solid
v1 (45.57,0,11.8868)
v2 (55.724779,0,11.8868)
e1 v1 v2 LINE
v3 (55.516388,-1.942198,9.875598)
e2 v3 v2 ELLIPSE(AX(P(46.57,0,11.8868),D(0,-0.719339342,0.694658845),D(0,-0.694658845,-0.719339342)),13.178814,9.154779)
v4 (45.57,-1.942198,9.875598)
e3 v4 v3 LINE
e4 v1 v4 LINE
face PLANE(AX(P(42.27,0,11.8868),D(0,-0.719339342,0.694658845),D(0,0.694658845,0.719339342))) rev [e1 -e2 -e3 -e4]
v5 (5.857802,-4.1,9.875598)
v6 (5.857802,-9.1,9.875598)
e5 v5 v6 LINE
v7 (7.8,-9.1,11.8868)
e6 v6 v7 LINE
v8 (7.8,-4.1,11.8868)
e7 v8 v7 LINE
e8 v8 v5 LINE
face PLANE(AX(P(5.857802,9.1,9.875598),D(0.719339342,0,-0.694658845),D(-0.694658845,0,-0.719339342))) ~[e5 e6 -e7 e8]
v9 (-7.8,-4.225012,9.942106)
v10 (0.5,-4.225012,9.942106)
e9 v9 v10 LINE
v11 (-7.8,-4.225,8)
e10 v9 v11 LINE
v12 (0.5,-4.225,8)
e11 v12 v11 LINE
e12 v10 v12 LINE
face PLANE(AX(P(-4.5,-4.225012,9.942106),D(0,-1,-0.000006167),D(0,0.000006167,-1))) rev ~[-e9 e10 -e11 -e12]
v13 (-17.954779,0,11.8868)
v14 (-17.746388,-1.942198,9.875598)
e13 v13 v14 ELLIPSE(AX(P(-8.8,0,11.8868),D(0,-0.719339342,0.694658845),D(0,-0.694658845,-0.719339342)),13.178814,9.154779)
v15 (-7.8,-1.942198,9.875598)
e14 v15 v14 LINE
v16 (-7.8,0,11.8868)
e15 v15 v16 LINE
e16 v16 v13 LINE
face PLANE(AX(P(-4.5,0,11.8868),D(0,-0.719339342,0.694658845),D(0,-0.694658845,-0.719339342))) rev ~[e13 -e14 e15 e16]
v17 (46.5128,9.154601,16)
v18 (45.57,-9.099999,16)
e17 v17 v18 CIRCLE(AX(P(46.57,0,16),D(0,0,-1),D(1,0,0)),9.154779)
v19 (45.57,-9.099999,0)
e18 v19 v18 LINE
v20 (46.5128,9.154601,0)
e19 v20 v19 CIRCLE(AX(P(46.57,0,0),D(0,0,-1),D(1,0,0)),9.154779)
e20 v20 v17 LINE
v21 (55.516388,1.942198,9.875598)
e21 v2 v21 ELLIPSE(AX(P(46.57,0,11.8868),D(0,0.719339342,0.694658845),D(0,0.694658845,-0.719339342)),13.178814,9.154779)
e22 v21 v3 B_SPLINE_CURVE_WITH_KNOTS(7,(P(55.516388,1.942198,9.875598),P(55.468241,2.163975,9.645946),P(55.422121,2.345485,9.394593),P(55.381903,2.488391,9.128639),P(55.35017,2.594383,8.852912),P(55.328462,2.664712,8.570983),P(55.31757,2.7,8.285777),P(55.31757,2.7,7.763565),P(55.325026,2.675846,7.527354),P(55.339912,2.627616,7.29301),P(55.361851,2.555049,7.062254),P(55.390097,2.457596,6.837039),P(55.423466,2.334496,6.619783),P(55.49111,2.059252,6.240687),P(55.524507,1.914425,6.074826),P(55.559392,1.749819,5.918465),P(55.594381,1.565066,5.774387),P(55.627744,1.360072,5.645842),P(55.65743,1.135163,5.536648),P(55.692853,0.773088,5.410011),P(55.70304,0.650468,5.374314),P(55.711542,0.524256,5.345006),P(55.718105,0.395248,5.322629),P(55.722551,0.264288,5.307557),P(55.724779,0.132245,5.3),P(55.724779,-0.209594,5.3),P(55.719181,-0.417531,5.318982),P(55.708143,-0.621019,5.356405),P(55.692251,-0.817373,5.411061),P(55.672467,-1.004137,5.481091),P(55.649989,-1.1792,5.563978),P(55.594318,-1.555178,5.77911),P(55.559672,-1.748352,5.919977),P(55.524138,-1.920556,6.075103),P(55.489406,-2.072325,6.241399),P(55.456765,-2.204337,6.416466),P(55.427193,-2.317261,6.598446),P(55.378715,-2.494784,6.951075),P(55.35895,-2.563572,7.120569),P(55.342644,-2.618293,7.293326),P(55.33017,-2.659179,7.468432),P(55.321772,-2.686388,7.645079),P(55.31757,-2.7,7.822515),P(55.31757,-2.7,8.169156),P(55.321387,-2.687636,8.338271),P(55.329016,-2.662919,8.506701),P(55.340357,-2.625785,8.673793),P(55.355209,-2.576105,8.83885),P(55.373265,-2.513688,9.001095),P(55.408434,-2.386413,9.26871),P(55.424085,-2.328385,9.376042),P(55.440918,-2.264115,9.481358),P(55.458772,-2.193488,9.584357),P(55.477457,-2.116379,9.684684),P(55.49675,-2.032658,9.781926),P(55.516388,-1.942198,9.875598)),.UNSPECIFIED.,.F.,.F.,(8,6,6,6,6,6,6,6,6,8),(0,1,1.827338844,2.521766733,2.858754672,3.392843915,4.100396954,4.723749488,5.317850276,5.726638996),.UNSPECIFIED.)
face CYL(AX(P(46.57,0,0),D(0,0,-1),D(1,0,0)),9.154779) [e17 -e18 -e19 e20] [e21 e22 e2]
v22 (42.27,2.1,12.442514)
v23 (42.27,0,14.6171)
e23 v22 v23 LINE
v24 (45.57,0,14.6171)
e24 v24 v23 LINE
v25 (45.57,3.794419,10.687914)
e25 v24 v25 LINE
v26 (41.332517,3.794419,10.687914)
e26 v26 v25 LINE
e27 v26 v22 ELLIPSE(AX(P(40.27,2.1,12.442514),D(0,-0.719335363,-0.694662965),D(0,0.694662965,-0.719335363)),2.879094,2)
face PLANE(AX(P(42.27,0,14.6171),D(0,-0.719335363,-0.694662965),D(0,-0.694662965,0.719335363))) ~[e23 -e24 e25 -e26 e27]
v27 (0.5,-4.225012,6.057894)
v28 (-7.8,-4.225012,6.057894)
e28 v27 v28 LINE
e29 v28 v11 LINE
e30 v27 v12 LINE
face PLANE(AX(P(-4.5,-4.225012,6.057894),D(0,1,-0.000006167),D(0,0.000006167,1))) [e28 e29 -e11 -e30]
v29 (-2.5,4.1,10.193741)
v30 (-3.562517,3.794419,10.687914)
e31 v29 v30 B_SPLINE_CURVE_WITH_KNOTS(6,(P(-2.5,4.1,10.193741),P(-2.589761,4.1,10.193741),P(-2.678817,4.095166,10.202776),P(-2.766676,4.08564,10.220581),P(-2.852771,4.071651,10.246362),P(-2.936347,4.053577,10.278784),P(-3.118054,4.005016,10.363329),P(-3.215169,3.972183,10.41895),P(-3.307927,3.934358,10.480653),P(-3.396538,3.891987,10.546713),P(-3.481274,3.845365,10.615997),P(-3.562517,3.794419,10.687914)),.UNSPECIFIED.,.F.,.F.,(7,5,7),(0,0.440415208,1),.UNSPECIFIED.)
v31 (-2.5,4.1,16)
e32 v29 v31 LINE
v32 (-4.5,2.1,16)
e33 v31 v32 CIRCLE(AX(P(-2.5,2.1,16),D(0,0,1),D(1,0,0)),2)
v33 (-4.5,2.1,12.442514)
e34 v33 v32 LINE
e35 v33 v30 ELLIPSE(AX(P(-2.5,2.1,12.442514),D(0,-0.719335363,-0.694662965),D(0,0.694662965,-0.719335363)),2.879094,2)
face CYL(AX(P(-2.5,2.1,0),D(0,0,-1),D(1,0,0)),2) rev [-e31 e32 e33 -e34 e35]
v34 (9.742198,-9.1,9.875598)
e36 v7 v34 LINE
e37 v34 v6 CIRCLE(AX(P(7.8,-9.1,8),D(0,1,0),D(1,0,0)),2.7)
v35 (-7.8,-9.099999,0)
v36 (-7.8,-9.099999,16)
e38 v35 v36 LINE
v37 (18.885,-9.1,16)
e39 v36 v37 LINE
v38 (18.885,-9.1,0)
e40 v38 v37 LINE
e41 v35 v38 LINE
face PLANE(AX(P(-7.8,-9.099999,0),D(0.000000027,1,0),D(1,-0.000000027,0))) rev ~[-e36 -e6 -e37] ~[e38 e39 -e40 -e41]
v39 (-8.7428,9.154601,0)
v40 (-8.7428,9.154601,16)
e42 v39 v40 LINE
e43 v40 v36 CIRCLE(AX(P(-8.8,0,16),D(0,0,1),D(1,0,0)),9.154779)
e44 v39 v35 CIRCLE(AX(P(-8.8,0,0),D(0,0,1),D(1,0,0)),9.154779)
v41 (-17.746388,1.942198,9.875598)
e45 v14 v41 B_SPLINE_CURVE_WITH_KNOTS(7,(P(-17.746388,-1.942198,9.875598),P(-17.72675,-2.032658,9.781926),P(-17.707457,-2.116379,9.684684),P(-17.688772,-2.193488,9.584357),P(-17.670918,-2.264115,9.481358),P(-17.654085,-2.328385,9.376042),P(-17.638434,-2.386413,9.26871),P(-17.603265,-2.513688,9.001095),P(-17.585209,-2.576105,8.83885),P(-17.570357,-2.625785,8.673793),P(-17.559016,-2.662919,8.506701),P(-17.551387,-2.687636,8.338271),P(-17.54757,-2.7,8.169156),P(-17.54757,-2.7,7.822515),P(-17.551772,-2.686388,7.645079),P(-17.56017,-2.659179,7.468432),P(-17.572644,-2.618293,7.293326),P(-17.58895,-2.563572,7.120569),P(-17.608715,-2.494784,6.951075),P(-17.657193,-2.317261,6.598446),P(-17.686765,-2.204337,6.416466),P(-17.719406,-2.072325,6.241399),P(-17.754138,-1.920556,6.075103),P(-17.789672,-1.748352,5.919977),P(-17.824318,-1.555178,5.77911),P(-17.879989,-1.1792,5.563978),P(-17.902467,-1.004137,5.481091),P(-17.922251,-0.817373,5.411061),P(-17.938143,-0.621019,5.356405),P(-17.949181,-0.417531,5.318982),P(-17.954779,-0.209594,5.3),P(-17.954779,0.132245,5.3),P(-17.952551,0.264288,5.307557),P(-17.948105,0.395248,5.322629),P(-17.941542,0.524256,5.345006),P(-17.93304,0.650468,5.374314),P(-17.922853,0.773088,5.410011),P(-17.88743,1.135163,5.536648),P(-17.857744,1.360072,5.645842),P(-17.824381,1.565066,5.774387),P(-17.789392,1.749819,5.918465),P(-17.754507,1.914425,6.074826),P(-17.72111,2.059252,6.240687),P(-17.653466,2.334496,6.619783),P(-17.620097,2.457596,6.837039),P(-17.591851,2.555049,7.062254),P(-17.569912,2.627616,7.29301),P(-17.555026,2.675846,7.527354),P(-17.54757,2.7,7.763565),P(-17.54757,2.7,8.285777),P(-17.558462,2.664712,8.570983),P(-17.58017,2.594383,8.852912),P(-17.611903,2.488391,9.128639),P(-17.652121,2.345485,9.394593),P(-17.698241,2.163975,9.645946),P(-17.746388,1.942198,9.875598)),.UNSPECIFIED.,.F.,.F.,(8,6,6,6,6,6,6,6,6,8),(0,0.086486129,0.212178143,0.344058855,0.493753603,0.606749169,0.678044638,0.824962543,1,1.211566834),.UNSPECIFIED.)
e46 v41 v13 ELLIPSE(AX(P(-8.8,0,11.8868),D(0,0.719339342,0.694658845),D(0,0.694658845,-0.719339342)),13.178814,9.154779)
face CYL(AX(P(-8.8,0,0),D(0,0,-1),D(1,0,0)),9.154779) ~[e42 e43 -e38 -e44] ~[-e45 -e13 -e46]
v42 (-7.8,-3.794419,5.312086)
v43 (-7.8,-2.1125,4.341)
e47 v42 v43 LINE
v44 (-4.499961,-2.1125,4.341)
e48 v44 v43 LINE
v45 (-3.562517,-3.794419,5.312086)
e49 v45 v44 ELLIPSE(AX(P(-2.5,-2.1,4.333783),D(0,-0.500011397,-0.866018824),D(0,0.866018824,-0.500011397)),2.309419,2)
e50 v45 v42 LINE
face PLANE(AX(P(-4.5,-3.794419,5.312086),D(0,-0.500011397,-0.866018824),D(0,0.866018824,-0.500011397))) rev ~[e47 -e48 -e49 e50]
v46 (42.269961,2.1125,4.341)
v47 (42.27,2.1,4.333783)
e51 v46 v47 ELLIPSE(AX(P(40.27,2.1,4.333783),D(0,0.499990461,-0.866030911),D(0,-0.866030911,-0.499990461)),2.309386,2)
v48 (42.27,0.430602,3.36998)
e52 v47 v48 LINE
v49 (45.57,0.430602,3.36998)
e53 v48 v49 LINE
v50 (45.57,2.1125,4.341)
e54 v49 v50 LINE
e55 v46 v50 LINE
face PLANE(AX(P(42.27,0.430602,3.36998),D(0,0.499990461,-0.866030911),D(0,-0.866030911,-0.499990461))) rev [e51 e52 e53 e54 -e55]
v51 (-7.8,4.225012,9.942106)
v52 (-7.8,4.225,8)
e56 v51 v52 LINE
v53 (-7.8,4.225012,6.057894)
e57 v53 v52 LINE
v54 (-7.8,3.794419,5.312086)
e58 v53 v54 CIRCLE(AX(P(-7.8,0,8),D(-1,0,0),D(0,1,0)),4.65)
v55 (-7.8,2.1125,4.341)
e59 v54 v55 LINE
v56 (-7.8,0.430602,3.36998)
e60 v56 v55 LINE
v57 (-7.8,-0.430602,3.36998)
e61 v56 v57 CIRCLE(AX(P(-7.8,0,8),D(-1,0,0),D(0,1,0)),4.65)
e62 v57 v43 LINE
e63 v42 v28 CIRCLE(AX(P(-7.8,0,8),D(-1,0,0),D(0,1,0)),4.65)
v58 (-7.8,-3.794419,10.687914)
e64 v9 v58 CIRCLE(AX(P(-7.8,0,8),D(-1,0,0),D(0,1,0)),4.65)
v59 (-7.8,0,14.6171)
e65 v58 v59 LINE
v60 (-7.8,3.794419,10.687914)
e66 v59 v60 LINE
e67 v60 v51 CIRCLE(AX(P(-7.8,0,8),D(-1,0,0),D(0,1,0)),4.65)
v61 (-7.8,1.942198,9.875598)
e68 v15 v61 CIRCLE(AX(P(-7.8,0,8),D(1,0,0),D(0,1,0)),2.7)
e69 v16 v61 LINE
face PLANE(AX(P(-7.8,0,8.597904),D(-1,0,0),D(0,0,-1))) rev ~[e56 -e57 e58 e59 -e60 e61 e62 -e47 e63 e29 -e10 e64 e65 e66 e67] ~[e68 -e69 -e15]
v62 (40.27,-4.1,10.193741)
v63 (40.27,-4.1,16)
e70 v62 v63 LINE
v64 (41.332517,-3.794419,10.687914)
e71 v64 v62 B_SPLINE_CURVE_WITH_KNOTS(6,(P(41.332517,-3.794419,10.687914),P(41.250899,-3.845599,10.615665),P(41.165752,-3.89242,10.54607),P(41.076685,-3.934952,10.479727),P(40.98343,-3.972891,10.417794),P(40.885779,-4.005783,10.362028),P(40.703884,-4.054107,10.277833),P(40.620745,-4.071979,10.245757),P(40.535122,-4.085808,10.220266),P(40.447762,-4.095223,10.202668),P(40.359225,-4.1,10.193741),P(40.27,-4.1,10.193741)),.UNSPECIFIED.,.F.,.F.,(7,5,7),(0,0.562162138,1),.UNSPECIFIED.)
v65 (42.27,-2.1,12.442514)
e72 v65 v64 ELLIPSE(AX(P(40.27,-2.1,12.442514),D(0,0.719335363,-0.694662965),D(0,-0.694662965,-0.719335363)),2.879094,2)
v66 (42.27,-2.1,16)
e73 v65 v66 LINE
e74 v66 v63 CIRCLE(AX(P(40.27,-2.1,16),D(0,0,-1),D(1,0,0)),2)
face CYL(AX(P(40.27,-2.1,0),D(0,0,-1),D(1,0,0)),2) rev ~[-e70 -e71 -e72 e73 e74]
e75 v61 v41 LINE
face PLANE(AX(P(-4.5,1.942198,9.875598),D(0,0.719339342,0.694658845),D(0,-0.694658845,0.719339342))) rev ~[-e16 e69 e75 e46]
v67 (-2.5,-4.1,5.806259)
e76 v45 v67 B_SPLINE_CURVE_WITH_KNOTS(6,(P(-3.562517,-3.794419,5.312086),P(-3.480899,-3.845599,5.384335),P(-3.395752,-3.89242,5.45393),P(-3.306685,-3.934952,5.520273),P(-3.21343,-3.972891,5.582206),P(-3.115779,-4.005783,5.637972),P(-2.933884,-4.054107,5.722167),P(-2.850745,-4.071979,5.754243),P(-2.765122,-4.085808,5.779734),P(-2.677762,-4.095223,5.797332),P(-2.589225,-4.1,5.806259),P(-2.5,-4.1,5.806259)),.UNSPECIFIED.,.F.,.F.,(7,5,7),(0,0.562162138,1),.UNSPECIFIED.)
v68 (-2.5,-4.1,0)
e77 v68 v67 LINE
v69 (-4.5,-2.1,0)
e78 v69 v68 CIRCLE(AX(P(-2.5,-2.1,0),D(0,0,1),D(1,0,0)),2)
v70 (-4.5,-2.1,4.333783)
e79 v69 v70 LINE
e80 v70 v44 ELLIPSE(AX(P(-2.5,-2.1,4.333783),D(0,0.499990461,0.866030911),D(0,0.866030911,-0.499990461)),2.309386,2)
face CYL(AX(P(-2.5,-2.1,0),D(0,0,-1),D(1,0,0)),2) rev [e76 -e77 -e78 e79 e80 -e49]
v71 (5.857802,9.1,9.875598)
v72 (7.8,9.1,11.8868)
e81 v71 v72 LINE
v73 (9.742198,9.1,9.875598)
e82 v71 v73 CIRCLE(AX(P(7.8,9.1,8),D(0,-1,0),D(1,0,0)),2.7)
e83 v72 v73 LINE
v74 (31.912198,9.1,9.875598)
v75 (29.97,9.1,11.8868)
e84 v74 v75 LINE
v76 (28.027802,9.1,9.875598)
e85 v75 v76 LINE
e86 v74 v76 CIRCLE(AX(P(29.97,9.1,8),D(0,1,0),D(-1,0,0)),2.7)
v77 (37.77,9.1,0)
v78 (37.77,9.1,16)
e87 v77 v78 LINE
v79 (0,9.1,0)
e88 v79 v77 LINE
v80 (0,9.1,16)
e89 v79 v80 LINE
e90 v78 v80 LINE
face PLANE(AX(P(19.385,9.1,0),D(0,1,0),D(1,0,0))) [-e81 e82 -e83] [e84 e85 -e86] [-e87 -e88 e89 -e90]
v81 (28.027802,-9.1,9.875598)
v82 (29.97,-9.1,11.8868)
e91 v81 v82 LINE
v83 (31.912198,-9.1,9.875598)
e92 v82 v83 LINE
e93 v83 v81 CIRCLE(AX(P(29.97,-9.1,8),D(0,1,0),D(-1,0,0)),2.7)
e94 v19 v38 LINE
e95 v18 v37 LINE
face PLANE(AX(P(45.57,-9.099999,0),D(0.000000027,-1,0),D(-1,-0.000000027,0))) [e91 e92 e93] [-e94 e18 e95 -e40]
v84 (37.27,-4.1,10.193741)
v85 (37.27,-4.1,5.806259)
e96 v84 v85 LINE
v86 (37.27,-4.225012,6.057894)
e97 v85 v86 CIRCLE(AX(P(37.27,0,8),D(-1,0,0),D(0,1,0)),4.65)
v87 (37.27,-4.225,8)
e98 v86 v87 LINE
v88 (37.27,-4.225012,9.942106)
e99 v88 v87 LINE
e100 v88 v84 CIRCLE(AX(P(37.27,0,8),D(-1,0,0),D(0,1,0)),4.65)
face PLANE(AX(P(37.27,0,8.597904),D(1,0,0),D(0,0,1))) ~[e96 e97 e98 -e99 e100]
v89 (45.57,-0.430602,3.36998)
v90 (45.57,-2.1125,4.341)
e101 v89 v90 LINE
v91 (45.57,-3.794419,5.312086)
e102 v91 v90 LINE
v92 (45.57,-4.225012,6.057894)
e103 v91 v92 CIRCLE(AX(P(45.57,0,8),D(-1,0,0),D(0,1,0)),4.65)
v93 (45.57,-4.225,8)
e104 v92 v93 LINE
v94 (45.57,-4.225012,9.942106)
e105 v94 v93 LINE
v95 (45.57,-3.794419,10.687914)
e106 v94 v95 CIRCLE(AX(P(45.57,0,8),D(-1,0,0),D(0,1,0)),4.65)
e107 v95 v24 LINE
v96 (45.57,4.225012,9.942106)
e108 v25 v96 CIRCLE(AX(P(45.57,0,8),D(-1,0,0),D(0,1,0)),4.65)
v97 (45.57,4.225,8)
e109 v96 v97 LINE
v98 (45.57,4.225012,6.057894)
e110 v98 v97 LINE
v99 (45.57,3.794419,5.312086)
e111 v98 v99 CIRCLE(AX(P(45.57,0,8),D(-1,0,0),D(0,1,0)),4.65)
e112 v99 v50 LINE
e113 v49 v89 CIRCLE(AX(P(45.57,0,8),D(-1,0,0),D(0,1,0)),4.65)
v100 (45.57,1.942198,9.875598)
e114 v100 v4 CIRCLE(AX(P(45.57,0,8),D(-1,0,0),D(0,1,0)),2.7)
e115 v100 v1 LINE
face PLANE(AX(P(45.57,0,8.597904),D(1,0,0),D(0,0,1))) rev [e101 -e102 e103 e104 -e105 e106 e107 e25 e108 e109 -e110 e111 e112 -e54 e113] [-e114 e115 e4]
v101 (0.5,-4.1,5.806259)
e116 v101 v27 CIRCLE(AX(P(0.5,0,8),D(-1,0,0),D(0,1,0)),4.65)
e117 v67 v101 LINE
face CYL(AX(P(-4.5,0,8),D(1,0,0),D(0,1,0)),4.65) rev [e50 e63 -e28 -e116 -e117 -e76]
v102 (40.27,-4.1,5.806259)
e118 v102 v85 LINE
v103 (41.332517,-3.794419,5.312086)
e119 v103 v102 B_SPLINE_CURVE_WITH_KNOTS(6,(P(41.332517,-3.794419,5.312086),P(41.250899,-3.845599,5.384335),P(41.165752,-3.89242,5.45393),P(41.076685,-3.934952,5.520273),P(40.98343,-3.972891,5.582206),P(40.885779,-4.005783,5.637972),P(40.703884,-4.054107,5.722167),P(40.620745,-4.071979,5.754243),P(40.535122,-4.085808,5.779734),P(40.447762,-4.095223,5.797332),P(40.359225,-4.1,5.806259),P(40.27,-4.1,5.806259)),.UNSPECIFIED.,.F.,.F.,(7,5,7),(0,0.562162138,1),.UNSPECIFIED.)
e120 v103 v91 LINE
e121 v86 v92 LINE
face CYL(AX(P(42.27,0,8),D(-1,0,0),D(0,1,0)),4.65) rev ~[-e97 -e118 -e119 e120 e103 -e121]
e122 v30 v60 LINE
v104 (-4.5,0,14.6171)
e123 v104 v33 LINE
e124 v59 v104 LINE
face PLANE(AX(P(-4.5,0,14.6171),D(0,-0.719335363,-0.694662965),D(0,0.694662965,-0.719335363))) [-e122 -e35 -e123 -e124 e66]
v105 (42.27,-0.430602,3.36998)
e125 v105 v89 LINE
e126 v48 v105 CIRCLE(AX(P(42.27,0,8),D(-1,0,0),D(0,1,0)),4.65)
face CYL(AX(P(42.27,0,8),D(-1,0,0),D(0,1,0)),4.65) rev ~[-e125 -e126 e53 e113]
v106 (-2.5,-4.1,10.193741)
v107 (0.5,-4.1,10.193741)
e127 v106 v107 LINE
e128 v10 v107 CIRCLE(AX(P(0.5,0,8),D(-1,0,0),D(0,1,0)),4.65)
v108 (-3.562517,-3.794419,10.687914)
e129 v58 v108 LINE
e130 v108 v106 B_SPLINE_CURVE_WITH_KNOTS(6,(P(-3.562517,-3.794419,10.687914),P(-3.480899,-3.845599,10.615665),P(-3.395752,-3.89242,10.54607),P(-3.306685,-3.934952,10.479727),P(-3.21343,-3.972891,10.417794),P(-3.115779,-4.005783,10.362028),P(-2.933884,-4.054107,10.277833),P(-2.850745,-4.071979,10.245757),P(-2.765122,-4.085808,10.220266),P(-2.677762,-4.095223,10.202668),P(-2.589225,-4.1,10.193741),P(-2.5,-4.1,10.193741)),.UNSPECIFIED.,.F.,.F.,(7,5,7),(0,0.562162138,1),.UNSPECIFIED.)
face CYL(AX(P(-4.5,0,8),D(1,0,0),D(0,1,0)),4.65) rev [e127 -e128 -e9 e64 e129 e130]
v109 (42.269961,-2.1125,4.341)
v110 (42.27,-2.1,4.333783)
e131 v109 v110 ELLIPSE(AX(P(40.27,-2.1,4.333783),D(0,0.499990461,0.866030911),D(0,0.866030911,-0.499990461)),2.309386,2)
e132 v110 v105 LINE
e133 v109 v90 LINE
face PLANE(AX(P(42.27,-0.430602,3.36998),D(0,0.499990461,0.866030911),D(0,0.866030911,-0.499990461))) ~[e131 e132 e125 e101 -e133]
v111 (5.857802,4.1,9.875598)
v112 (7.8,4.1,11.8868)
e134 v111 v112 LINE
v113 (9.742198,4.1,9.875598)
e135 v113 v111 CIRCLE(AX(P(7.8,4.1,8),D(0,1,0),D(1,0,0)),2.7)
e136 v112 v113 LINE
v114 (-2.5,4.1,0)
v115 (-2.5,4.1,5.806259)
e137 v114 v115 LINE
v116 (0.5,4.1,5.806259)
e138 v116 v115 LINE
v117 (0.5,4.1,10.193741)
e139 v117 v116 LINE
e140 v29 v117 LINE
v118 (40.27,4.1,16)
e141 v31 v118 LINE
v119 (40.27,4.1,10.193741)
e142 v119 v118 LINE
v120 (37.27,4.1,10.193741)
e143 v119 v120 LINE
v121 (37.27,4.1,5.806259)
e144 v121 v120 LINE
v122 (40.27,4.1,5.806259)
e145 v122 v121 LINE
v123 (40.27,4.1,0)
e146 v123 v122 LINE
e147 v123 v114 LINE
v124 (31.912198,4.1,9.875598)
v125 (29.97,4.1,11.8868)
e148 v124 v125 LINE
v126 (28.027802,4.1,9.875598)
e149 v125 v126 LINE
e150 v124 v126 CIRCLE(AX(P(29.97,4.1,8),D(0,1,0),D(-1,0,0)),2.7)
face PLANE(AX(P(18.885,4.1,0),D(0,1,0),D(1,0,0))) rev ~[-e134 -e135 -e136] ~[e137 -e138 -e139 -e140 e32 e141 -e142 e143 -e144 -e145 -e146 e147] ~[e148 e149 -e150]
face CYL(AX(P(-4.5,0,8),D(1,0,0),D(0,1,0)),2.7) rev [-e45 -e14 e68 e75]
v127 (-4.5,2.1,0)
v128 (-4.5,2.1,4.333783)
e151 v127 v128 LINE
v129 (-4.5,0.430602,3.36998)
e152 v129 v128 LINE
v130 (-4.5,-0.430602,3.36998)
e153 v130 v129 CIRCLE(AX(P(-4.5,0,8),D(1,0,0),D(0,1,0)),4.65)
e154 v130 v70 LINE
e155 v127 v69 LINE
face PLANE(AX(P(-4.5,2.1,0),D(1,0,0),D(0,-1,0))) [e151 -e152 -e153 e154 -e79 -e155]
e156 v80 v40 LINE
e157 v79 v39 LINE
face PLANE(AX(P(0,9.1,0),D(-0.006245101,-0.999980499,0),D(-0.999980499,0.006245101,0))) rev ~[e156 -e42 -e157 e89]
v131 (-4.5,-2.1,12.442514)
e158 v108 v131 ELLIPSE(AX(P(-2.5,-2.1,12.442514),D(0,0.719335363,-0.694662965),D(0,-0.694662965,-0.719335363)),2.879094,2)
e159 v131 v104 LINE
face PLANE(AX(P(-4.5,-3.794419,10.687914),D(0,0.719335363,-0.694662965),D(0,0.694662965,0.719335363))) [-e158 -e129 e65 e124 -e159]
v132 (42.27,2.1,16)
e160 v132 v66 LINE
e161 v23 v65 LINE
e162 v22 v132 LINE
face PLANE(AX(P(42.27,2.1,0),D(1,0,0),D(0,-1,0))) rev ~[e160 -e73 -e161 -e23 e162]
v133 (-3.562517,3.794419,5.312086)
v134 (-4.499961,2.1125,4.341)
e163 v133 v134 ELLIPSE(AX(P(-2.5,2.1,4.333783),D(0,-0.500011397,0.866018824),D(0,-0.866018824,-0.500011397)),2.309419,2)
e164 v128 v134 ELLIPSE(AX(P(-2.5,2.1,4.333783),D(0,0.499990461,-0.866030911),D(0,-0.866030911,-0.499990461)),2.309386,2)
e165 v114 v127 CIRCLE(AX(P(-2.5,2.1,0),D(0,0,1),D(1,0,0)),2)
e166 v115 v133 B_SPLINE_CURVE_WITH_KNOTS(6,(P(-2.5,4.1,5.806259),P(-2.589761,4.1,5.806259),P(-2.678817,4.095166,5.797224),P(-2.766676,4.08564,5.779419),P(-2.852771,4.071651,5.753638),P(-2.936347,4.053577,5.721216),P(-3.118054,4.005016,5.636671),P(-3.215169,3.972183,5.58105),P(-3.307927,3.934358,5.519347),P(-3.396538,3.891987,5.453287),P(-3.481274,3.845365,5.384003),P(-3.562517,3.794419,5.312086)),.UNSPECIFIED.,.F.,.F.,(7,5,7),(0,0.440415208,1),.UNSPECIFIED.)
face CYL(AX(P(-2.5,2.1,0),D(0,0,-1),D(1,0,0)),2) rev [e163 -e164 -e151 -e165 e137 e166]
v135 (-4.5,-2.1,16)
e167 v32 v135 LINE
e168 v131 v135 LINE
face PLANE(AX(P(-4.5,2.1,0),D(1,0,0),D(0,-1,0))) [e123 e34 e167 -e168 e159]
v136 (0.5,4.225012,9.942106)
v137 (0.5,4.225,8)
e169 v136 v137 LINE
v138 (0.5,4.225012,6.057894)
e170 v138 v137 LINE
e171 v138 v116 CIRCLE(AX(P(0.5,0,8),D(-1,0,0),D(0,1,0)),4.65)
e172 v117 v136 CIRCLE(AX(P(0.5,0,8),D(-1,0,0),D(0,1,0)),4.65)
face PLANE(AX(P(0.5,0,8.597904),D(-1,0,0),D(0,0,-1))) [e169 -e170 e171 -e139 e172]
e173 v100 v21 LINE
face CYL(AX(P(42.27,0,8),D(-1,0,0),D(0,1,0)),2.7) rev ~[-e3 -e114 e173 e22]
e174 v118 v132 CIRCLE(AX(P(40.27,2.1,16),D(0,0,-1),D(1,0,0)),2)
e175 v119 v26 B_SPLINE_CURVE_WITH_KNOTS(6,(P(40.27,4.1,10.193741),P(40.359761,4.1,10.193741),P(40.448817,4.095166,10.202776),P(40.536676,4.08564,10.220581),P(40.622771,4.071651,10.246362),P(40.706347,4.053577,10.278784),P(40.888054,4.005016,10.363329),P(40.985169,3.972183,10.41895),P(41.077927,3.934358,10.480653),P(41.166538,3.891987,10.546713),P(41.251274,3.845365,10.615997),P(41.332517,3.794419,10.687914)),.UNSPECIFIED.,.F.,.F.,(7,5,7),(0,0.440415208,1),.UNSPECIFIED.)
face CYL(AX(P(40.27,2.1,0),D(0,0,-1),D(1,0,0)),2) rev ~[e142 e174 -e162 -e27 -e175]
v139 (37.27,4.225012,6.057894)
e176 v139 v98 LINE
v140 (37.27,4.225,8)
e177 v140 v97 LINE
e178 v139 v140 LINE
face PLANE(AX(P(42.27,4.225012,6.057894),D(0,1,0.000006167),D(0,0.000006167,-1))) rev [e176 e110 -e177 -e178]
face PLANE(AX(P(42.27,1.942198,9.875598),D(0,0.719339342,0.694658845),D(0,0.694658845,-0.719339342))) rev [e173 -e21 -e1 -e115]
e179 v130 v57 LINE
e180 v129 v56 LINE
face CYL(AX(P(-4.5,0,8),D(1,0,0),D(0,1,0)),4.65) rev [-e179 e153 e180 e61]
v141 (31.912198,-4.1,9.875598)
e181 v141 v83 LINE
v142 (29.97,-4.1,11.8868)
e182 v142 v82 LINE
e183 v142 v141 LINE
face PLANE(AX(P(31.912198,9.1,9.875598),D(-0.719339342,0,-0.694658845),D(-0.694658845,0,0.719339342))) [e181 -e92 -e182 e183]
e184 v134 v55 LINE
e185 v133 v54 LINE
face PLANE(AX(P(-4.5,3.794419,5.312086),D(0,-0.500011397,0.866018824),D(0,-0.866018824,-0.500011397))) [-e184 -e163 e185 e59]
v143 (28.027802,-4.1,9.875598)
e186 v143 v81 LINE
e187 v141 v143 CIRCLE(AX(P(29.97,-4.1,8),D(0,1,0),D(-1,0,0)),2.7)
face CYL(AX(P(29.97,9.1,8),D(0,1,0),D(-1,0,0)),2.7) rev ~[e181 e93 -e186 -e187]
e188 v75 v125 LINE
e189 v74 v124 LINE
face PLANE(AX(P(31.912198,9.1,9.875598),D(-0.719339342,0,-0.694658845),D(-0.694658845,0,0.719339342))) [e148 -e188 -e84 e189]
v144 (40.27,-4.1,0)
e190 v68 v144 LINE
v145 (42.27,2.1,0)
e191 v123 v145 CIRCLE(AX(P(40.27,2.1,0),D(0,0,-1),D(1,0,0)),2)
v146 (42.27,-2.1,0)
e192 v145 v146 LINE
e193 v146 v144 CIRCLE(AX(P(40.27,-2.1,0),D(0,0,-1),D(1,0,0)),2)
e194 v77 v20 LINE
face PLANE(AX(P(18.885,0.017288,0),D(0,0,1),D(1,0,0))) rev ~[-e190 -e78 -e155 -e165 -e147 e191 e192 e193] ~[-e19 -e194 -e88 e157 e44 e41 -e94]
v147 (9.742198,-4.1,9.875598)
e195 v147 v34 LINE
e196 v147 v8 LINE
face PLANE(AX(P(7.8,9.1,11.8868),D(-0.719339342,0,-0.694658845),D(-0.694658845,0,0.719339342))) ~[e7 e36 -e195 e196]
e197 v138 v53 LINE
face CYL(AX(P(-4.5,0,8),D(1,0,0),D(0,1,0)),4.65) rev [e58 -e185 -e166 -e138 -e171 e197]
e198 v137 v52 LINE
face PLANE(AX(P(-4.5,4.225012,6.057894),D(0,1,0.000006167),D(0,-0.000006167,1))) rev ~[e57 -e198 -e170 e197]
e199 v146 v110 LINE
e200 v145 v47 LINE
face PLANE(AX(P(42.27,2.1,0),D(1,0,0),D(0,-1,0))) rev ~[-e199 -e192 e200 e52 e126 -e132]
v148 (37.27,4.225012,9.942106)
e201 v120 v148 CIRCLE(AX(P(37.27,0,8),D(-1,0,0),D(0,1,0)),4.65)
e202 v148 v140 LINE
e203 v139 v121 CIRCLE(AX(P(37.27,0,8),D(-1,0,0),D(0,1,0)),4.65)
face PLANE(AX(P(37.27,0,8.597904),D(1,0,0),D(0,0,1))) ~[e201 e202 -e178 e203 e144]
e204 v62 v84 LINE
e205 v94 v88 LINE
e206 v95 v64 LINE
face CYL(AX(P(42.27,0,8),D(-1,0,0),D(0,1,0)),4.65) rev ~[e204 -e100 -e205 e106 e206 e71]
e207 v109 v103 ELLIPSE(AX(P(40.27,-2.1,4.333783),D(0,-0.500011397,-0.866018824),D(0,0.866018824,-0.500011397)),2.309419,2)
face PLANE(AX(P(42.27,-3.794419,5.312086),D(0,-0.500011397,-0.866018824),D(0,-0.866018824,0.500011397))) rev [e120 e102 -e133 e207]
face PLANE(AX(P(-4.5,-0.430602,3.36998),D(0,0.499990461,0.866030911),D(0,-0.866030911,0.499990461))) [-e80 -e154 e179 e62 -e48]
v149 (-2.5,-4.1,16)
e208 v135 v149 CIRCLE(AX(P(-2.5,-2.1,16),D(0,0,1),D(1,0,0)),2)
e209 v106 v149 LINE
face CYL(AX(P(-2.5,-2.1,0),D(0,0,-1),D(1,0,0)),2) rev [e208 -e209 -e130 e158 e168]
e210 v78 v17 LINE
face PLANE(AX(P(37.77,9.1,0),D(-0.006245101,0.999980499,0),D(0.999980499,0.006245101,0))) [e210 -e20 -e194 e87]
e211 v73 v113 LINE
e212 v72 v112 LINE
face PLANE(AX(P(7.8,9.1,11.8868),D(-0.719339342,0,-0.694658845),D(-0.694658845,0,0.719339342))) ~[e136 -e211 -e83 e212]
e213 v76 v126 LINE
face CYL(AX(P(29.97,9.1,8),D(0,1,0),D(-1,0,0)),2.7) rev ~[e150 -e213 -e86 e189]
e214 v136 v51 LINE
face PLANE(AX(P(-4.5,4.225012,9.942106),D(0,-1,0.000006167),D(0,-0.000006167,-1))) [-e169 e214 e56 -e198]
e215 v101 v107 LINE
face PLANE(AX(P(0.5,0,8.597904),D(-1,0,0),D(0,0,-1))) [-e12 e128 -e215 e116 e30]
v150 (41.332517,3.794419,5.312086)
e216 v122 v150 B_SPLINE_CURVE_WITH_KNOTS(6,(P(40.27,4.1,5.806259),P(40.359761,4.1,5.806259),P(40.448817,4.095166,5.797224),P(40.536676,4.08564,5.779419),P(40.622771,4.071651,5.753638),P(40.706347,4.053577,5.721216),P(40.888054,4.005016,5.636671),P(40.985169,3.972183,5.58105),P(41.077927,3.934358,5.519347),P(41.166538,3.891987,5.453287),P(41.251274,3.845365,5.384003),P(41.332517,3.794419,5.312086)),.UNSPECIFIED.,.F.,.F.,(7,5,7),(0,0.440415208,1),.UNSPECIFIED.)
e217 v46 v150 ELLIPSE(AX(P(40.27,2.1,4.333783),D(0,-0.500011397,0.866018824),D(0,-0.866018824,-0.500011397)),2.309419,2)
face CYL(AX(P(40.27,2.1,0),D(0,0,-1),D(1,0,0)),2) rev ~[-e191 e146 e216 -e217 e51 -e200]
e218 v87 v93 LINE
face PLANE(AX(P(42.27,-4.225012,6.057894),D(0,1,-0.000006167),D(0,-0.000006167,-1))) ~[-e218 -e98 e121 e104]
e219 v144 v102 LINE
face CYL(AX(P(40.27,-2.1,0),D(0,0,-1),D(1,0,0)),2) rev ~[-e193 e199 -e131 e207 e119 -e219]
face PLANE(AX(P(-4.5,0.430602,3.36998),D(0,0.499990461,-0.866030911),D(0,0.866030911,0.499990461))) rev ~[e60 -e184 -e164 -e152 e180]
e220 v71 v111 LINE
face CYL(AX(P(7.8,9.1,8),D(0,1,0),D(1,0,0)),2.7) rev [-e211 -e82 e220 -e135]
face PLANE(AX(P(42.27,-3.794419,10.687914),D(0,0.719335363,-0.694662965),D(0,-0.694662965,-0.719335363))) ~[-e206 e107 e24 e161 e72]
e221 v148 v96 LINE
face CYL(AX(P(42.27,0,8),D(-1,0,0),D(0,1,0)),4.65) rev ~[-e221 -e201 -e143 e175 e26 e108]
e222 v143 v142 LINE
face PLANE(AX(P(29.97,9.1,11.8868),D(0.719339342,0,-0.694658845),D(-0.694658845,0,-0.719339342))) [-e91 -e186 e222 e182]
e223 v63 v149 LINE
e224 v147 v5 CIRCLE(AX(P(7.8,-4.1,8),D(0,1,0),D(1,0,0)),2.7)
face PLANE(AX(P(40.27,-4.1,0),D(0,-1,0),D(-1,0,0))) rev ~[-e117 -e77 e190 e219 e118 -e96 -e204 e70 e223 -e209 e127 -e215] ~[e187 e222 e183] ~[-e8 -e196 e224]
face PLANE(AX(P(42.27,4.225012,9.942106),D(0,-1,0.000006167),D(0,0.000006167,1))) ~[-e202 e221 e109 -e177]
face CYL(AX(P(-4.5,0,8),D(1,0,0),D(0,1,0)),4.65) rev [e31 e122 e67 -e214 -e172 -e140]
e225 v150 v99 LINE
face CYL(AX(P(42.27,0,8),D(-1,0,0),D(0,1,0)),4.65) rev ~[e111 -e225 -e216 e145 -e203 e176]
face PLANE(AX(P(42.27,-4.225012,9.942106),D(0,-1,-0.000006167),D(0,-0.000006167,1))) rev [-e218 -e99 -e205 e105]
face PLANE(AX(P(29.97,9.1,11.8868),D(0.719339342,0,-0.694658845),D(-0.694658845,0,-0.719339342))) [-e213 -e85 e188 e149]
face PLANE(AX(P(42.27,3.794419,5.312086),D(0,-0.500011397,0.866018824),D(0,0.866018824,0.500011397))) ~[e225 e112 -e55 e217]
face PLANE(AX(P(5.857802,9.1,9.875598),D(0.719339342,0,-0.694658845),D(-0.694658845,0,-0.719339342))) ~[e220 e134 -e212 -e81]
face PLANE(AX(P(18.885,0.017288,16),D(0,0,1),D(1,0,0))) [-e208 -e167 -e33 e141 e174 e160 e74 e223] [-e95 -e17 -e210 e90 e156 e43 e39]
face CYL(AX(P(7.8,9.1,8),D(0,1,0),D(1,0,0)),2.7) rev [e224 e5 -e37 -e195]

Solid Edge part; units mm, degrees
sketch "Sketch1" plane through (0, 0, 0) normal (0, 0, 1) x (1, 0, 0)
  line L0 (-7.8, -9.1) -> (18.885, -9.1)
  line L1 (45.57, -9.1) -> (18.885, -9.1)
  arc A0 (46.5128, 9.1546) -> (45.57, -9.1) centre (46.57, 0) cw
  line L2 (37.77, 9.1) -> (46.5128, 9.1546)
  line L3 (19.385, 9.1) -> (37.77, 9.1)
  line L4 (19.385, 9.1) -> (18.885, 9.1)
  line L5 (18.385, 9.1) -> (18.885, 9.1)
  line L6 (18.385, 9.1) -> (0, 9.1)
  line L7 (0, 9.1) -> (-8.7428, 9.1546)
  arc A1 (-8.7428, 9.1546) -> (-7.8, -9.1) centre (-8.8, 0) ccw
  line L8 (18.885, 4.1) -> (38.77, 4.1)
  line L9 (38.77, 4.1) -> (40.27, 4.1)
  arc A2 (40.27, 4.1) -> (42.27, 2.1) centre (40.27, 2.1) cw
  line L10 (42.27, 2.1) -> (42.27, -2.1)
  arc A3 (42.27, -2.1) -> (40.27, -4.1) centre (40.27, -2.1) cw
  line L11 (40.27, -4.1) -> (18.885, -4.1)
  line L12 (-2.5, -4.1) -> (18.885, -4.1)
  arc A4 (-4.5, -2.1) -> (-2.5, -4.1) centre (-2.5, -2.1) ccw
  line L13 (-4.5, 2.1) -> (-4.5, -2.1)
  arc A5 (-2.5, 4.1) -> (-4.5, 2.1) centre (-2.5, 2.1) ccw
  line L14 (-1, 4.1) -> (-2.5, 4.1)
  line L15 (18.885, 4.1) -> (-1, 4.1)
extrude "Protrusion1" add sketch "Sketch1" along normal blind 16
sketch "Sketch2" plane through (-4.5, 0, 8) normal (1, 0, 0) x (0, 1, 0)
  line L0 (0, 6.6171) -> (3.7944, 2.6879)
  arc A0 (3.7944, 2.6879) -> (4.225, 1.9421) centre (0, 0) cw
  line L1 (4.225, 1.9421) -> (4.225, 0)
  line L2 (4.225, -1.9421) -> (4.225, 0)
  arc A1 (4.225, -1.9421) -> (3.7944, -2.6879) centre (0, 0) cw
  line L3 (3.7944, -2.6879) -> (2.1125, -3.659)
  line L4 (0.4306, -4.63) -> (2.1125, -3.659)
  arc A2 (0.4306, -4.63) -> (-0.4306, -4.63) centre (0, 0) cw
  line L5 (-0.4306, -4.63) -> (-2.1125, -3.659)
  line L6 (-3.7944, -2.6879) -> (-2.1125, -3.659)
  arc A3 (-3.7944, -2.6879) -> (-4.225, -1.9421) centre (0, 0) cw
  line L7 (-4.225, -1.9421) -> (-4.225, 0)
  line L8 (-4.225, 1.9421) -> (-4.225, 0)
  arc A4 (-4.225, 1.9421) -> (-3.7944, 2.6879) centre (0, 0) cw
  line L9 (-3.7944, 2.6879) -> (0, 6.6171)
extrude "ExtrudedCutout_1" cut sketch "Sketch2" against normal blind 3.3 and the other way blind 5
sketch "Sketch3" plane through (-4.5, 0, 8) normal (1, 0, 0) x (0, 1, 0)
  line L0 (0, 3.8868) -> (-1.9422, 1.8756)
  line L1 (1.9422, 1.8756) -> (0, 3.8868)
  arc A0 (1.9422, 1.8756) -> (-1.9422, 1.8756) centre (0, 0) cw
extrude "Cutout1" cut sketch "Sketch3" against normal through all
sketch "Sketch4" plane through (18.385, 9.1, 8) normal (0, 1, 0) x (-1, 0, 0)
  arc A0 (-13.5272, 1.8756) -> (-9.6428, 1.8756) centre (-11.585, 0) ccw
  line L0 (-11.585, 3.8868) -> (-9.6428, 1.8756)
  line L1 (-13.5272, 1.8756) -> (-11.585, 3.8868)
extrude "Cutout2" cut sketch "Sketch4" against normal through all
mirror "Mirror1" about plane through (18.885, 0, 0) normal (1, 0, 0) of "ExtrudedCutout_1", "Cutout1", "Cutout2"
properties material "ABS Plastic, medium impact"
